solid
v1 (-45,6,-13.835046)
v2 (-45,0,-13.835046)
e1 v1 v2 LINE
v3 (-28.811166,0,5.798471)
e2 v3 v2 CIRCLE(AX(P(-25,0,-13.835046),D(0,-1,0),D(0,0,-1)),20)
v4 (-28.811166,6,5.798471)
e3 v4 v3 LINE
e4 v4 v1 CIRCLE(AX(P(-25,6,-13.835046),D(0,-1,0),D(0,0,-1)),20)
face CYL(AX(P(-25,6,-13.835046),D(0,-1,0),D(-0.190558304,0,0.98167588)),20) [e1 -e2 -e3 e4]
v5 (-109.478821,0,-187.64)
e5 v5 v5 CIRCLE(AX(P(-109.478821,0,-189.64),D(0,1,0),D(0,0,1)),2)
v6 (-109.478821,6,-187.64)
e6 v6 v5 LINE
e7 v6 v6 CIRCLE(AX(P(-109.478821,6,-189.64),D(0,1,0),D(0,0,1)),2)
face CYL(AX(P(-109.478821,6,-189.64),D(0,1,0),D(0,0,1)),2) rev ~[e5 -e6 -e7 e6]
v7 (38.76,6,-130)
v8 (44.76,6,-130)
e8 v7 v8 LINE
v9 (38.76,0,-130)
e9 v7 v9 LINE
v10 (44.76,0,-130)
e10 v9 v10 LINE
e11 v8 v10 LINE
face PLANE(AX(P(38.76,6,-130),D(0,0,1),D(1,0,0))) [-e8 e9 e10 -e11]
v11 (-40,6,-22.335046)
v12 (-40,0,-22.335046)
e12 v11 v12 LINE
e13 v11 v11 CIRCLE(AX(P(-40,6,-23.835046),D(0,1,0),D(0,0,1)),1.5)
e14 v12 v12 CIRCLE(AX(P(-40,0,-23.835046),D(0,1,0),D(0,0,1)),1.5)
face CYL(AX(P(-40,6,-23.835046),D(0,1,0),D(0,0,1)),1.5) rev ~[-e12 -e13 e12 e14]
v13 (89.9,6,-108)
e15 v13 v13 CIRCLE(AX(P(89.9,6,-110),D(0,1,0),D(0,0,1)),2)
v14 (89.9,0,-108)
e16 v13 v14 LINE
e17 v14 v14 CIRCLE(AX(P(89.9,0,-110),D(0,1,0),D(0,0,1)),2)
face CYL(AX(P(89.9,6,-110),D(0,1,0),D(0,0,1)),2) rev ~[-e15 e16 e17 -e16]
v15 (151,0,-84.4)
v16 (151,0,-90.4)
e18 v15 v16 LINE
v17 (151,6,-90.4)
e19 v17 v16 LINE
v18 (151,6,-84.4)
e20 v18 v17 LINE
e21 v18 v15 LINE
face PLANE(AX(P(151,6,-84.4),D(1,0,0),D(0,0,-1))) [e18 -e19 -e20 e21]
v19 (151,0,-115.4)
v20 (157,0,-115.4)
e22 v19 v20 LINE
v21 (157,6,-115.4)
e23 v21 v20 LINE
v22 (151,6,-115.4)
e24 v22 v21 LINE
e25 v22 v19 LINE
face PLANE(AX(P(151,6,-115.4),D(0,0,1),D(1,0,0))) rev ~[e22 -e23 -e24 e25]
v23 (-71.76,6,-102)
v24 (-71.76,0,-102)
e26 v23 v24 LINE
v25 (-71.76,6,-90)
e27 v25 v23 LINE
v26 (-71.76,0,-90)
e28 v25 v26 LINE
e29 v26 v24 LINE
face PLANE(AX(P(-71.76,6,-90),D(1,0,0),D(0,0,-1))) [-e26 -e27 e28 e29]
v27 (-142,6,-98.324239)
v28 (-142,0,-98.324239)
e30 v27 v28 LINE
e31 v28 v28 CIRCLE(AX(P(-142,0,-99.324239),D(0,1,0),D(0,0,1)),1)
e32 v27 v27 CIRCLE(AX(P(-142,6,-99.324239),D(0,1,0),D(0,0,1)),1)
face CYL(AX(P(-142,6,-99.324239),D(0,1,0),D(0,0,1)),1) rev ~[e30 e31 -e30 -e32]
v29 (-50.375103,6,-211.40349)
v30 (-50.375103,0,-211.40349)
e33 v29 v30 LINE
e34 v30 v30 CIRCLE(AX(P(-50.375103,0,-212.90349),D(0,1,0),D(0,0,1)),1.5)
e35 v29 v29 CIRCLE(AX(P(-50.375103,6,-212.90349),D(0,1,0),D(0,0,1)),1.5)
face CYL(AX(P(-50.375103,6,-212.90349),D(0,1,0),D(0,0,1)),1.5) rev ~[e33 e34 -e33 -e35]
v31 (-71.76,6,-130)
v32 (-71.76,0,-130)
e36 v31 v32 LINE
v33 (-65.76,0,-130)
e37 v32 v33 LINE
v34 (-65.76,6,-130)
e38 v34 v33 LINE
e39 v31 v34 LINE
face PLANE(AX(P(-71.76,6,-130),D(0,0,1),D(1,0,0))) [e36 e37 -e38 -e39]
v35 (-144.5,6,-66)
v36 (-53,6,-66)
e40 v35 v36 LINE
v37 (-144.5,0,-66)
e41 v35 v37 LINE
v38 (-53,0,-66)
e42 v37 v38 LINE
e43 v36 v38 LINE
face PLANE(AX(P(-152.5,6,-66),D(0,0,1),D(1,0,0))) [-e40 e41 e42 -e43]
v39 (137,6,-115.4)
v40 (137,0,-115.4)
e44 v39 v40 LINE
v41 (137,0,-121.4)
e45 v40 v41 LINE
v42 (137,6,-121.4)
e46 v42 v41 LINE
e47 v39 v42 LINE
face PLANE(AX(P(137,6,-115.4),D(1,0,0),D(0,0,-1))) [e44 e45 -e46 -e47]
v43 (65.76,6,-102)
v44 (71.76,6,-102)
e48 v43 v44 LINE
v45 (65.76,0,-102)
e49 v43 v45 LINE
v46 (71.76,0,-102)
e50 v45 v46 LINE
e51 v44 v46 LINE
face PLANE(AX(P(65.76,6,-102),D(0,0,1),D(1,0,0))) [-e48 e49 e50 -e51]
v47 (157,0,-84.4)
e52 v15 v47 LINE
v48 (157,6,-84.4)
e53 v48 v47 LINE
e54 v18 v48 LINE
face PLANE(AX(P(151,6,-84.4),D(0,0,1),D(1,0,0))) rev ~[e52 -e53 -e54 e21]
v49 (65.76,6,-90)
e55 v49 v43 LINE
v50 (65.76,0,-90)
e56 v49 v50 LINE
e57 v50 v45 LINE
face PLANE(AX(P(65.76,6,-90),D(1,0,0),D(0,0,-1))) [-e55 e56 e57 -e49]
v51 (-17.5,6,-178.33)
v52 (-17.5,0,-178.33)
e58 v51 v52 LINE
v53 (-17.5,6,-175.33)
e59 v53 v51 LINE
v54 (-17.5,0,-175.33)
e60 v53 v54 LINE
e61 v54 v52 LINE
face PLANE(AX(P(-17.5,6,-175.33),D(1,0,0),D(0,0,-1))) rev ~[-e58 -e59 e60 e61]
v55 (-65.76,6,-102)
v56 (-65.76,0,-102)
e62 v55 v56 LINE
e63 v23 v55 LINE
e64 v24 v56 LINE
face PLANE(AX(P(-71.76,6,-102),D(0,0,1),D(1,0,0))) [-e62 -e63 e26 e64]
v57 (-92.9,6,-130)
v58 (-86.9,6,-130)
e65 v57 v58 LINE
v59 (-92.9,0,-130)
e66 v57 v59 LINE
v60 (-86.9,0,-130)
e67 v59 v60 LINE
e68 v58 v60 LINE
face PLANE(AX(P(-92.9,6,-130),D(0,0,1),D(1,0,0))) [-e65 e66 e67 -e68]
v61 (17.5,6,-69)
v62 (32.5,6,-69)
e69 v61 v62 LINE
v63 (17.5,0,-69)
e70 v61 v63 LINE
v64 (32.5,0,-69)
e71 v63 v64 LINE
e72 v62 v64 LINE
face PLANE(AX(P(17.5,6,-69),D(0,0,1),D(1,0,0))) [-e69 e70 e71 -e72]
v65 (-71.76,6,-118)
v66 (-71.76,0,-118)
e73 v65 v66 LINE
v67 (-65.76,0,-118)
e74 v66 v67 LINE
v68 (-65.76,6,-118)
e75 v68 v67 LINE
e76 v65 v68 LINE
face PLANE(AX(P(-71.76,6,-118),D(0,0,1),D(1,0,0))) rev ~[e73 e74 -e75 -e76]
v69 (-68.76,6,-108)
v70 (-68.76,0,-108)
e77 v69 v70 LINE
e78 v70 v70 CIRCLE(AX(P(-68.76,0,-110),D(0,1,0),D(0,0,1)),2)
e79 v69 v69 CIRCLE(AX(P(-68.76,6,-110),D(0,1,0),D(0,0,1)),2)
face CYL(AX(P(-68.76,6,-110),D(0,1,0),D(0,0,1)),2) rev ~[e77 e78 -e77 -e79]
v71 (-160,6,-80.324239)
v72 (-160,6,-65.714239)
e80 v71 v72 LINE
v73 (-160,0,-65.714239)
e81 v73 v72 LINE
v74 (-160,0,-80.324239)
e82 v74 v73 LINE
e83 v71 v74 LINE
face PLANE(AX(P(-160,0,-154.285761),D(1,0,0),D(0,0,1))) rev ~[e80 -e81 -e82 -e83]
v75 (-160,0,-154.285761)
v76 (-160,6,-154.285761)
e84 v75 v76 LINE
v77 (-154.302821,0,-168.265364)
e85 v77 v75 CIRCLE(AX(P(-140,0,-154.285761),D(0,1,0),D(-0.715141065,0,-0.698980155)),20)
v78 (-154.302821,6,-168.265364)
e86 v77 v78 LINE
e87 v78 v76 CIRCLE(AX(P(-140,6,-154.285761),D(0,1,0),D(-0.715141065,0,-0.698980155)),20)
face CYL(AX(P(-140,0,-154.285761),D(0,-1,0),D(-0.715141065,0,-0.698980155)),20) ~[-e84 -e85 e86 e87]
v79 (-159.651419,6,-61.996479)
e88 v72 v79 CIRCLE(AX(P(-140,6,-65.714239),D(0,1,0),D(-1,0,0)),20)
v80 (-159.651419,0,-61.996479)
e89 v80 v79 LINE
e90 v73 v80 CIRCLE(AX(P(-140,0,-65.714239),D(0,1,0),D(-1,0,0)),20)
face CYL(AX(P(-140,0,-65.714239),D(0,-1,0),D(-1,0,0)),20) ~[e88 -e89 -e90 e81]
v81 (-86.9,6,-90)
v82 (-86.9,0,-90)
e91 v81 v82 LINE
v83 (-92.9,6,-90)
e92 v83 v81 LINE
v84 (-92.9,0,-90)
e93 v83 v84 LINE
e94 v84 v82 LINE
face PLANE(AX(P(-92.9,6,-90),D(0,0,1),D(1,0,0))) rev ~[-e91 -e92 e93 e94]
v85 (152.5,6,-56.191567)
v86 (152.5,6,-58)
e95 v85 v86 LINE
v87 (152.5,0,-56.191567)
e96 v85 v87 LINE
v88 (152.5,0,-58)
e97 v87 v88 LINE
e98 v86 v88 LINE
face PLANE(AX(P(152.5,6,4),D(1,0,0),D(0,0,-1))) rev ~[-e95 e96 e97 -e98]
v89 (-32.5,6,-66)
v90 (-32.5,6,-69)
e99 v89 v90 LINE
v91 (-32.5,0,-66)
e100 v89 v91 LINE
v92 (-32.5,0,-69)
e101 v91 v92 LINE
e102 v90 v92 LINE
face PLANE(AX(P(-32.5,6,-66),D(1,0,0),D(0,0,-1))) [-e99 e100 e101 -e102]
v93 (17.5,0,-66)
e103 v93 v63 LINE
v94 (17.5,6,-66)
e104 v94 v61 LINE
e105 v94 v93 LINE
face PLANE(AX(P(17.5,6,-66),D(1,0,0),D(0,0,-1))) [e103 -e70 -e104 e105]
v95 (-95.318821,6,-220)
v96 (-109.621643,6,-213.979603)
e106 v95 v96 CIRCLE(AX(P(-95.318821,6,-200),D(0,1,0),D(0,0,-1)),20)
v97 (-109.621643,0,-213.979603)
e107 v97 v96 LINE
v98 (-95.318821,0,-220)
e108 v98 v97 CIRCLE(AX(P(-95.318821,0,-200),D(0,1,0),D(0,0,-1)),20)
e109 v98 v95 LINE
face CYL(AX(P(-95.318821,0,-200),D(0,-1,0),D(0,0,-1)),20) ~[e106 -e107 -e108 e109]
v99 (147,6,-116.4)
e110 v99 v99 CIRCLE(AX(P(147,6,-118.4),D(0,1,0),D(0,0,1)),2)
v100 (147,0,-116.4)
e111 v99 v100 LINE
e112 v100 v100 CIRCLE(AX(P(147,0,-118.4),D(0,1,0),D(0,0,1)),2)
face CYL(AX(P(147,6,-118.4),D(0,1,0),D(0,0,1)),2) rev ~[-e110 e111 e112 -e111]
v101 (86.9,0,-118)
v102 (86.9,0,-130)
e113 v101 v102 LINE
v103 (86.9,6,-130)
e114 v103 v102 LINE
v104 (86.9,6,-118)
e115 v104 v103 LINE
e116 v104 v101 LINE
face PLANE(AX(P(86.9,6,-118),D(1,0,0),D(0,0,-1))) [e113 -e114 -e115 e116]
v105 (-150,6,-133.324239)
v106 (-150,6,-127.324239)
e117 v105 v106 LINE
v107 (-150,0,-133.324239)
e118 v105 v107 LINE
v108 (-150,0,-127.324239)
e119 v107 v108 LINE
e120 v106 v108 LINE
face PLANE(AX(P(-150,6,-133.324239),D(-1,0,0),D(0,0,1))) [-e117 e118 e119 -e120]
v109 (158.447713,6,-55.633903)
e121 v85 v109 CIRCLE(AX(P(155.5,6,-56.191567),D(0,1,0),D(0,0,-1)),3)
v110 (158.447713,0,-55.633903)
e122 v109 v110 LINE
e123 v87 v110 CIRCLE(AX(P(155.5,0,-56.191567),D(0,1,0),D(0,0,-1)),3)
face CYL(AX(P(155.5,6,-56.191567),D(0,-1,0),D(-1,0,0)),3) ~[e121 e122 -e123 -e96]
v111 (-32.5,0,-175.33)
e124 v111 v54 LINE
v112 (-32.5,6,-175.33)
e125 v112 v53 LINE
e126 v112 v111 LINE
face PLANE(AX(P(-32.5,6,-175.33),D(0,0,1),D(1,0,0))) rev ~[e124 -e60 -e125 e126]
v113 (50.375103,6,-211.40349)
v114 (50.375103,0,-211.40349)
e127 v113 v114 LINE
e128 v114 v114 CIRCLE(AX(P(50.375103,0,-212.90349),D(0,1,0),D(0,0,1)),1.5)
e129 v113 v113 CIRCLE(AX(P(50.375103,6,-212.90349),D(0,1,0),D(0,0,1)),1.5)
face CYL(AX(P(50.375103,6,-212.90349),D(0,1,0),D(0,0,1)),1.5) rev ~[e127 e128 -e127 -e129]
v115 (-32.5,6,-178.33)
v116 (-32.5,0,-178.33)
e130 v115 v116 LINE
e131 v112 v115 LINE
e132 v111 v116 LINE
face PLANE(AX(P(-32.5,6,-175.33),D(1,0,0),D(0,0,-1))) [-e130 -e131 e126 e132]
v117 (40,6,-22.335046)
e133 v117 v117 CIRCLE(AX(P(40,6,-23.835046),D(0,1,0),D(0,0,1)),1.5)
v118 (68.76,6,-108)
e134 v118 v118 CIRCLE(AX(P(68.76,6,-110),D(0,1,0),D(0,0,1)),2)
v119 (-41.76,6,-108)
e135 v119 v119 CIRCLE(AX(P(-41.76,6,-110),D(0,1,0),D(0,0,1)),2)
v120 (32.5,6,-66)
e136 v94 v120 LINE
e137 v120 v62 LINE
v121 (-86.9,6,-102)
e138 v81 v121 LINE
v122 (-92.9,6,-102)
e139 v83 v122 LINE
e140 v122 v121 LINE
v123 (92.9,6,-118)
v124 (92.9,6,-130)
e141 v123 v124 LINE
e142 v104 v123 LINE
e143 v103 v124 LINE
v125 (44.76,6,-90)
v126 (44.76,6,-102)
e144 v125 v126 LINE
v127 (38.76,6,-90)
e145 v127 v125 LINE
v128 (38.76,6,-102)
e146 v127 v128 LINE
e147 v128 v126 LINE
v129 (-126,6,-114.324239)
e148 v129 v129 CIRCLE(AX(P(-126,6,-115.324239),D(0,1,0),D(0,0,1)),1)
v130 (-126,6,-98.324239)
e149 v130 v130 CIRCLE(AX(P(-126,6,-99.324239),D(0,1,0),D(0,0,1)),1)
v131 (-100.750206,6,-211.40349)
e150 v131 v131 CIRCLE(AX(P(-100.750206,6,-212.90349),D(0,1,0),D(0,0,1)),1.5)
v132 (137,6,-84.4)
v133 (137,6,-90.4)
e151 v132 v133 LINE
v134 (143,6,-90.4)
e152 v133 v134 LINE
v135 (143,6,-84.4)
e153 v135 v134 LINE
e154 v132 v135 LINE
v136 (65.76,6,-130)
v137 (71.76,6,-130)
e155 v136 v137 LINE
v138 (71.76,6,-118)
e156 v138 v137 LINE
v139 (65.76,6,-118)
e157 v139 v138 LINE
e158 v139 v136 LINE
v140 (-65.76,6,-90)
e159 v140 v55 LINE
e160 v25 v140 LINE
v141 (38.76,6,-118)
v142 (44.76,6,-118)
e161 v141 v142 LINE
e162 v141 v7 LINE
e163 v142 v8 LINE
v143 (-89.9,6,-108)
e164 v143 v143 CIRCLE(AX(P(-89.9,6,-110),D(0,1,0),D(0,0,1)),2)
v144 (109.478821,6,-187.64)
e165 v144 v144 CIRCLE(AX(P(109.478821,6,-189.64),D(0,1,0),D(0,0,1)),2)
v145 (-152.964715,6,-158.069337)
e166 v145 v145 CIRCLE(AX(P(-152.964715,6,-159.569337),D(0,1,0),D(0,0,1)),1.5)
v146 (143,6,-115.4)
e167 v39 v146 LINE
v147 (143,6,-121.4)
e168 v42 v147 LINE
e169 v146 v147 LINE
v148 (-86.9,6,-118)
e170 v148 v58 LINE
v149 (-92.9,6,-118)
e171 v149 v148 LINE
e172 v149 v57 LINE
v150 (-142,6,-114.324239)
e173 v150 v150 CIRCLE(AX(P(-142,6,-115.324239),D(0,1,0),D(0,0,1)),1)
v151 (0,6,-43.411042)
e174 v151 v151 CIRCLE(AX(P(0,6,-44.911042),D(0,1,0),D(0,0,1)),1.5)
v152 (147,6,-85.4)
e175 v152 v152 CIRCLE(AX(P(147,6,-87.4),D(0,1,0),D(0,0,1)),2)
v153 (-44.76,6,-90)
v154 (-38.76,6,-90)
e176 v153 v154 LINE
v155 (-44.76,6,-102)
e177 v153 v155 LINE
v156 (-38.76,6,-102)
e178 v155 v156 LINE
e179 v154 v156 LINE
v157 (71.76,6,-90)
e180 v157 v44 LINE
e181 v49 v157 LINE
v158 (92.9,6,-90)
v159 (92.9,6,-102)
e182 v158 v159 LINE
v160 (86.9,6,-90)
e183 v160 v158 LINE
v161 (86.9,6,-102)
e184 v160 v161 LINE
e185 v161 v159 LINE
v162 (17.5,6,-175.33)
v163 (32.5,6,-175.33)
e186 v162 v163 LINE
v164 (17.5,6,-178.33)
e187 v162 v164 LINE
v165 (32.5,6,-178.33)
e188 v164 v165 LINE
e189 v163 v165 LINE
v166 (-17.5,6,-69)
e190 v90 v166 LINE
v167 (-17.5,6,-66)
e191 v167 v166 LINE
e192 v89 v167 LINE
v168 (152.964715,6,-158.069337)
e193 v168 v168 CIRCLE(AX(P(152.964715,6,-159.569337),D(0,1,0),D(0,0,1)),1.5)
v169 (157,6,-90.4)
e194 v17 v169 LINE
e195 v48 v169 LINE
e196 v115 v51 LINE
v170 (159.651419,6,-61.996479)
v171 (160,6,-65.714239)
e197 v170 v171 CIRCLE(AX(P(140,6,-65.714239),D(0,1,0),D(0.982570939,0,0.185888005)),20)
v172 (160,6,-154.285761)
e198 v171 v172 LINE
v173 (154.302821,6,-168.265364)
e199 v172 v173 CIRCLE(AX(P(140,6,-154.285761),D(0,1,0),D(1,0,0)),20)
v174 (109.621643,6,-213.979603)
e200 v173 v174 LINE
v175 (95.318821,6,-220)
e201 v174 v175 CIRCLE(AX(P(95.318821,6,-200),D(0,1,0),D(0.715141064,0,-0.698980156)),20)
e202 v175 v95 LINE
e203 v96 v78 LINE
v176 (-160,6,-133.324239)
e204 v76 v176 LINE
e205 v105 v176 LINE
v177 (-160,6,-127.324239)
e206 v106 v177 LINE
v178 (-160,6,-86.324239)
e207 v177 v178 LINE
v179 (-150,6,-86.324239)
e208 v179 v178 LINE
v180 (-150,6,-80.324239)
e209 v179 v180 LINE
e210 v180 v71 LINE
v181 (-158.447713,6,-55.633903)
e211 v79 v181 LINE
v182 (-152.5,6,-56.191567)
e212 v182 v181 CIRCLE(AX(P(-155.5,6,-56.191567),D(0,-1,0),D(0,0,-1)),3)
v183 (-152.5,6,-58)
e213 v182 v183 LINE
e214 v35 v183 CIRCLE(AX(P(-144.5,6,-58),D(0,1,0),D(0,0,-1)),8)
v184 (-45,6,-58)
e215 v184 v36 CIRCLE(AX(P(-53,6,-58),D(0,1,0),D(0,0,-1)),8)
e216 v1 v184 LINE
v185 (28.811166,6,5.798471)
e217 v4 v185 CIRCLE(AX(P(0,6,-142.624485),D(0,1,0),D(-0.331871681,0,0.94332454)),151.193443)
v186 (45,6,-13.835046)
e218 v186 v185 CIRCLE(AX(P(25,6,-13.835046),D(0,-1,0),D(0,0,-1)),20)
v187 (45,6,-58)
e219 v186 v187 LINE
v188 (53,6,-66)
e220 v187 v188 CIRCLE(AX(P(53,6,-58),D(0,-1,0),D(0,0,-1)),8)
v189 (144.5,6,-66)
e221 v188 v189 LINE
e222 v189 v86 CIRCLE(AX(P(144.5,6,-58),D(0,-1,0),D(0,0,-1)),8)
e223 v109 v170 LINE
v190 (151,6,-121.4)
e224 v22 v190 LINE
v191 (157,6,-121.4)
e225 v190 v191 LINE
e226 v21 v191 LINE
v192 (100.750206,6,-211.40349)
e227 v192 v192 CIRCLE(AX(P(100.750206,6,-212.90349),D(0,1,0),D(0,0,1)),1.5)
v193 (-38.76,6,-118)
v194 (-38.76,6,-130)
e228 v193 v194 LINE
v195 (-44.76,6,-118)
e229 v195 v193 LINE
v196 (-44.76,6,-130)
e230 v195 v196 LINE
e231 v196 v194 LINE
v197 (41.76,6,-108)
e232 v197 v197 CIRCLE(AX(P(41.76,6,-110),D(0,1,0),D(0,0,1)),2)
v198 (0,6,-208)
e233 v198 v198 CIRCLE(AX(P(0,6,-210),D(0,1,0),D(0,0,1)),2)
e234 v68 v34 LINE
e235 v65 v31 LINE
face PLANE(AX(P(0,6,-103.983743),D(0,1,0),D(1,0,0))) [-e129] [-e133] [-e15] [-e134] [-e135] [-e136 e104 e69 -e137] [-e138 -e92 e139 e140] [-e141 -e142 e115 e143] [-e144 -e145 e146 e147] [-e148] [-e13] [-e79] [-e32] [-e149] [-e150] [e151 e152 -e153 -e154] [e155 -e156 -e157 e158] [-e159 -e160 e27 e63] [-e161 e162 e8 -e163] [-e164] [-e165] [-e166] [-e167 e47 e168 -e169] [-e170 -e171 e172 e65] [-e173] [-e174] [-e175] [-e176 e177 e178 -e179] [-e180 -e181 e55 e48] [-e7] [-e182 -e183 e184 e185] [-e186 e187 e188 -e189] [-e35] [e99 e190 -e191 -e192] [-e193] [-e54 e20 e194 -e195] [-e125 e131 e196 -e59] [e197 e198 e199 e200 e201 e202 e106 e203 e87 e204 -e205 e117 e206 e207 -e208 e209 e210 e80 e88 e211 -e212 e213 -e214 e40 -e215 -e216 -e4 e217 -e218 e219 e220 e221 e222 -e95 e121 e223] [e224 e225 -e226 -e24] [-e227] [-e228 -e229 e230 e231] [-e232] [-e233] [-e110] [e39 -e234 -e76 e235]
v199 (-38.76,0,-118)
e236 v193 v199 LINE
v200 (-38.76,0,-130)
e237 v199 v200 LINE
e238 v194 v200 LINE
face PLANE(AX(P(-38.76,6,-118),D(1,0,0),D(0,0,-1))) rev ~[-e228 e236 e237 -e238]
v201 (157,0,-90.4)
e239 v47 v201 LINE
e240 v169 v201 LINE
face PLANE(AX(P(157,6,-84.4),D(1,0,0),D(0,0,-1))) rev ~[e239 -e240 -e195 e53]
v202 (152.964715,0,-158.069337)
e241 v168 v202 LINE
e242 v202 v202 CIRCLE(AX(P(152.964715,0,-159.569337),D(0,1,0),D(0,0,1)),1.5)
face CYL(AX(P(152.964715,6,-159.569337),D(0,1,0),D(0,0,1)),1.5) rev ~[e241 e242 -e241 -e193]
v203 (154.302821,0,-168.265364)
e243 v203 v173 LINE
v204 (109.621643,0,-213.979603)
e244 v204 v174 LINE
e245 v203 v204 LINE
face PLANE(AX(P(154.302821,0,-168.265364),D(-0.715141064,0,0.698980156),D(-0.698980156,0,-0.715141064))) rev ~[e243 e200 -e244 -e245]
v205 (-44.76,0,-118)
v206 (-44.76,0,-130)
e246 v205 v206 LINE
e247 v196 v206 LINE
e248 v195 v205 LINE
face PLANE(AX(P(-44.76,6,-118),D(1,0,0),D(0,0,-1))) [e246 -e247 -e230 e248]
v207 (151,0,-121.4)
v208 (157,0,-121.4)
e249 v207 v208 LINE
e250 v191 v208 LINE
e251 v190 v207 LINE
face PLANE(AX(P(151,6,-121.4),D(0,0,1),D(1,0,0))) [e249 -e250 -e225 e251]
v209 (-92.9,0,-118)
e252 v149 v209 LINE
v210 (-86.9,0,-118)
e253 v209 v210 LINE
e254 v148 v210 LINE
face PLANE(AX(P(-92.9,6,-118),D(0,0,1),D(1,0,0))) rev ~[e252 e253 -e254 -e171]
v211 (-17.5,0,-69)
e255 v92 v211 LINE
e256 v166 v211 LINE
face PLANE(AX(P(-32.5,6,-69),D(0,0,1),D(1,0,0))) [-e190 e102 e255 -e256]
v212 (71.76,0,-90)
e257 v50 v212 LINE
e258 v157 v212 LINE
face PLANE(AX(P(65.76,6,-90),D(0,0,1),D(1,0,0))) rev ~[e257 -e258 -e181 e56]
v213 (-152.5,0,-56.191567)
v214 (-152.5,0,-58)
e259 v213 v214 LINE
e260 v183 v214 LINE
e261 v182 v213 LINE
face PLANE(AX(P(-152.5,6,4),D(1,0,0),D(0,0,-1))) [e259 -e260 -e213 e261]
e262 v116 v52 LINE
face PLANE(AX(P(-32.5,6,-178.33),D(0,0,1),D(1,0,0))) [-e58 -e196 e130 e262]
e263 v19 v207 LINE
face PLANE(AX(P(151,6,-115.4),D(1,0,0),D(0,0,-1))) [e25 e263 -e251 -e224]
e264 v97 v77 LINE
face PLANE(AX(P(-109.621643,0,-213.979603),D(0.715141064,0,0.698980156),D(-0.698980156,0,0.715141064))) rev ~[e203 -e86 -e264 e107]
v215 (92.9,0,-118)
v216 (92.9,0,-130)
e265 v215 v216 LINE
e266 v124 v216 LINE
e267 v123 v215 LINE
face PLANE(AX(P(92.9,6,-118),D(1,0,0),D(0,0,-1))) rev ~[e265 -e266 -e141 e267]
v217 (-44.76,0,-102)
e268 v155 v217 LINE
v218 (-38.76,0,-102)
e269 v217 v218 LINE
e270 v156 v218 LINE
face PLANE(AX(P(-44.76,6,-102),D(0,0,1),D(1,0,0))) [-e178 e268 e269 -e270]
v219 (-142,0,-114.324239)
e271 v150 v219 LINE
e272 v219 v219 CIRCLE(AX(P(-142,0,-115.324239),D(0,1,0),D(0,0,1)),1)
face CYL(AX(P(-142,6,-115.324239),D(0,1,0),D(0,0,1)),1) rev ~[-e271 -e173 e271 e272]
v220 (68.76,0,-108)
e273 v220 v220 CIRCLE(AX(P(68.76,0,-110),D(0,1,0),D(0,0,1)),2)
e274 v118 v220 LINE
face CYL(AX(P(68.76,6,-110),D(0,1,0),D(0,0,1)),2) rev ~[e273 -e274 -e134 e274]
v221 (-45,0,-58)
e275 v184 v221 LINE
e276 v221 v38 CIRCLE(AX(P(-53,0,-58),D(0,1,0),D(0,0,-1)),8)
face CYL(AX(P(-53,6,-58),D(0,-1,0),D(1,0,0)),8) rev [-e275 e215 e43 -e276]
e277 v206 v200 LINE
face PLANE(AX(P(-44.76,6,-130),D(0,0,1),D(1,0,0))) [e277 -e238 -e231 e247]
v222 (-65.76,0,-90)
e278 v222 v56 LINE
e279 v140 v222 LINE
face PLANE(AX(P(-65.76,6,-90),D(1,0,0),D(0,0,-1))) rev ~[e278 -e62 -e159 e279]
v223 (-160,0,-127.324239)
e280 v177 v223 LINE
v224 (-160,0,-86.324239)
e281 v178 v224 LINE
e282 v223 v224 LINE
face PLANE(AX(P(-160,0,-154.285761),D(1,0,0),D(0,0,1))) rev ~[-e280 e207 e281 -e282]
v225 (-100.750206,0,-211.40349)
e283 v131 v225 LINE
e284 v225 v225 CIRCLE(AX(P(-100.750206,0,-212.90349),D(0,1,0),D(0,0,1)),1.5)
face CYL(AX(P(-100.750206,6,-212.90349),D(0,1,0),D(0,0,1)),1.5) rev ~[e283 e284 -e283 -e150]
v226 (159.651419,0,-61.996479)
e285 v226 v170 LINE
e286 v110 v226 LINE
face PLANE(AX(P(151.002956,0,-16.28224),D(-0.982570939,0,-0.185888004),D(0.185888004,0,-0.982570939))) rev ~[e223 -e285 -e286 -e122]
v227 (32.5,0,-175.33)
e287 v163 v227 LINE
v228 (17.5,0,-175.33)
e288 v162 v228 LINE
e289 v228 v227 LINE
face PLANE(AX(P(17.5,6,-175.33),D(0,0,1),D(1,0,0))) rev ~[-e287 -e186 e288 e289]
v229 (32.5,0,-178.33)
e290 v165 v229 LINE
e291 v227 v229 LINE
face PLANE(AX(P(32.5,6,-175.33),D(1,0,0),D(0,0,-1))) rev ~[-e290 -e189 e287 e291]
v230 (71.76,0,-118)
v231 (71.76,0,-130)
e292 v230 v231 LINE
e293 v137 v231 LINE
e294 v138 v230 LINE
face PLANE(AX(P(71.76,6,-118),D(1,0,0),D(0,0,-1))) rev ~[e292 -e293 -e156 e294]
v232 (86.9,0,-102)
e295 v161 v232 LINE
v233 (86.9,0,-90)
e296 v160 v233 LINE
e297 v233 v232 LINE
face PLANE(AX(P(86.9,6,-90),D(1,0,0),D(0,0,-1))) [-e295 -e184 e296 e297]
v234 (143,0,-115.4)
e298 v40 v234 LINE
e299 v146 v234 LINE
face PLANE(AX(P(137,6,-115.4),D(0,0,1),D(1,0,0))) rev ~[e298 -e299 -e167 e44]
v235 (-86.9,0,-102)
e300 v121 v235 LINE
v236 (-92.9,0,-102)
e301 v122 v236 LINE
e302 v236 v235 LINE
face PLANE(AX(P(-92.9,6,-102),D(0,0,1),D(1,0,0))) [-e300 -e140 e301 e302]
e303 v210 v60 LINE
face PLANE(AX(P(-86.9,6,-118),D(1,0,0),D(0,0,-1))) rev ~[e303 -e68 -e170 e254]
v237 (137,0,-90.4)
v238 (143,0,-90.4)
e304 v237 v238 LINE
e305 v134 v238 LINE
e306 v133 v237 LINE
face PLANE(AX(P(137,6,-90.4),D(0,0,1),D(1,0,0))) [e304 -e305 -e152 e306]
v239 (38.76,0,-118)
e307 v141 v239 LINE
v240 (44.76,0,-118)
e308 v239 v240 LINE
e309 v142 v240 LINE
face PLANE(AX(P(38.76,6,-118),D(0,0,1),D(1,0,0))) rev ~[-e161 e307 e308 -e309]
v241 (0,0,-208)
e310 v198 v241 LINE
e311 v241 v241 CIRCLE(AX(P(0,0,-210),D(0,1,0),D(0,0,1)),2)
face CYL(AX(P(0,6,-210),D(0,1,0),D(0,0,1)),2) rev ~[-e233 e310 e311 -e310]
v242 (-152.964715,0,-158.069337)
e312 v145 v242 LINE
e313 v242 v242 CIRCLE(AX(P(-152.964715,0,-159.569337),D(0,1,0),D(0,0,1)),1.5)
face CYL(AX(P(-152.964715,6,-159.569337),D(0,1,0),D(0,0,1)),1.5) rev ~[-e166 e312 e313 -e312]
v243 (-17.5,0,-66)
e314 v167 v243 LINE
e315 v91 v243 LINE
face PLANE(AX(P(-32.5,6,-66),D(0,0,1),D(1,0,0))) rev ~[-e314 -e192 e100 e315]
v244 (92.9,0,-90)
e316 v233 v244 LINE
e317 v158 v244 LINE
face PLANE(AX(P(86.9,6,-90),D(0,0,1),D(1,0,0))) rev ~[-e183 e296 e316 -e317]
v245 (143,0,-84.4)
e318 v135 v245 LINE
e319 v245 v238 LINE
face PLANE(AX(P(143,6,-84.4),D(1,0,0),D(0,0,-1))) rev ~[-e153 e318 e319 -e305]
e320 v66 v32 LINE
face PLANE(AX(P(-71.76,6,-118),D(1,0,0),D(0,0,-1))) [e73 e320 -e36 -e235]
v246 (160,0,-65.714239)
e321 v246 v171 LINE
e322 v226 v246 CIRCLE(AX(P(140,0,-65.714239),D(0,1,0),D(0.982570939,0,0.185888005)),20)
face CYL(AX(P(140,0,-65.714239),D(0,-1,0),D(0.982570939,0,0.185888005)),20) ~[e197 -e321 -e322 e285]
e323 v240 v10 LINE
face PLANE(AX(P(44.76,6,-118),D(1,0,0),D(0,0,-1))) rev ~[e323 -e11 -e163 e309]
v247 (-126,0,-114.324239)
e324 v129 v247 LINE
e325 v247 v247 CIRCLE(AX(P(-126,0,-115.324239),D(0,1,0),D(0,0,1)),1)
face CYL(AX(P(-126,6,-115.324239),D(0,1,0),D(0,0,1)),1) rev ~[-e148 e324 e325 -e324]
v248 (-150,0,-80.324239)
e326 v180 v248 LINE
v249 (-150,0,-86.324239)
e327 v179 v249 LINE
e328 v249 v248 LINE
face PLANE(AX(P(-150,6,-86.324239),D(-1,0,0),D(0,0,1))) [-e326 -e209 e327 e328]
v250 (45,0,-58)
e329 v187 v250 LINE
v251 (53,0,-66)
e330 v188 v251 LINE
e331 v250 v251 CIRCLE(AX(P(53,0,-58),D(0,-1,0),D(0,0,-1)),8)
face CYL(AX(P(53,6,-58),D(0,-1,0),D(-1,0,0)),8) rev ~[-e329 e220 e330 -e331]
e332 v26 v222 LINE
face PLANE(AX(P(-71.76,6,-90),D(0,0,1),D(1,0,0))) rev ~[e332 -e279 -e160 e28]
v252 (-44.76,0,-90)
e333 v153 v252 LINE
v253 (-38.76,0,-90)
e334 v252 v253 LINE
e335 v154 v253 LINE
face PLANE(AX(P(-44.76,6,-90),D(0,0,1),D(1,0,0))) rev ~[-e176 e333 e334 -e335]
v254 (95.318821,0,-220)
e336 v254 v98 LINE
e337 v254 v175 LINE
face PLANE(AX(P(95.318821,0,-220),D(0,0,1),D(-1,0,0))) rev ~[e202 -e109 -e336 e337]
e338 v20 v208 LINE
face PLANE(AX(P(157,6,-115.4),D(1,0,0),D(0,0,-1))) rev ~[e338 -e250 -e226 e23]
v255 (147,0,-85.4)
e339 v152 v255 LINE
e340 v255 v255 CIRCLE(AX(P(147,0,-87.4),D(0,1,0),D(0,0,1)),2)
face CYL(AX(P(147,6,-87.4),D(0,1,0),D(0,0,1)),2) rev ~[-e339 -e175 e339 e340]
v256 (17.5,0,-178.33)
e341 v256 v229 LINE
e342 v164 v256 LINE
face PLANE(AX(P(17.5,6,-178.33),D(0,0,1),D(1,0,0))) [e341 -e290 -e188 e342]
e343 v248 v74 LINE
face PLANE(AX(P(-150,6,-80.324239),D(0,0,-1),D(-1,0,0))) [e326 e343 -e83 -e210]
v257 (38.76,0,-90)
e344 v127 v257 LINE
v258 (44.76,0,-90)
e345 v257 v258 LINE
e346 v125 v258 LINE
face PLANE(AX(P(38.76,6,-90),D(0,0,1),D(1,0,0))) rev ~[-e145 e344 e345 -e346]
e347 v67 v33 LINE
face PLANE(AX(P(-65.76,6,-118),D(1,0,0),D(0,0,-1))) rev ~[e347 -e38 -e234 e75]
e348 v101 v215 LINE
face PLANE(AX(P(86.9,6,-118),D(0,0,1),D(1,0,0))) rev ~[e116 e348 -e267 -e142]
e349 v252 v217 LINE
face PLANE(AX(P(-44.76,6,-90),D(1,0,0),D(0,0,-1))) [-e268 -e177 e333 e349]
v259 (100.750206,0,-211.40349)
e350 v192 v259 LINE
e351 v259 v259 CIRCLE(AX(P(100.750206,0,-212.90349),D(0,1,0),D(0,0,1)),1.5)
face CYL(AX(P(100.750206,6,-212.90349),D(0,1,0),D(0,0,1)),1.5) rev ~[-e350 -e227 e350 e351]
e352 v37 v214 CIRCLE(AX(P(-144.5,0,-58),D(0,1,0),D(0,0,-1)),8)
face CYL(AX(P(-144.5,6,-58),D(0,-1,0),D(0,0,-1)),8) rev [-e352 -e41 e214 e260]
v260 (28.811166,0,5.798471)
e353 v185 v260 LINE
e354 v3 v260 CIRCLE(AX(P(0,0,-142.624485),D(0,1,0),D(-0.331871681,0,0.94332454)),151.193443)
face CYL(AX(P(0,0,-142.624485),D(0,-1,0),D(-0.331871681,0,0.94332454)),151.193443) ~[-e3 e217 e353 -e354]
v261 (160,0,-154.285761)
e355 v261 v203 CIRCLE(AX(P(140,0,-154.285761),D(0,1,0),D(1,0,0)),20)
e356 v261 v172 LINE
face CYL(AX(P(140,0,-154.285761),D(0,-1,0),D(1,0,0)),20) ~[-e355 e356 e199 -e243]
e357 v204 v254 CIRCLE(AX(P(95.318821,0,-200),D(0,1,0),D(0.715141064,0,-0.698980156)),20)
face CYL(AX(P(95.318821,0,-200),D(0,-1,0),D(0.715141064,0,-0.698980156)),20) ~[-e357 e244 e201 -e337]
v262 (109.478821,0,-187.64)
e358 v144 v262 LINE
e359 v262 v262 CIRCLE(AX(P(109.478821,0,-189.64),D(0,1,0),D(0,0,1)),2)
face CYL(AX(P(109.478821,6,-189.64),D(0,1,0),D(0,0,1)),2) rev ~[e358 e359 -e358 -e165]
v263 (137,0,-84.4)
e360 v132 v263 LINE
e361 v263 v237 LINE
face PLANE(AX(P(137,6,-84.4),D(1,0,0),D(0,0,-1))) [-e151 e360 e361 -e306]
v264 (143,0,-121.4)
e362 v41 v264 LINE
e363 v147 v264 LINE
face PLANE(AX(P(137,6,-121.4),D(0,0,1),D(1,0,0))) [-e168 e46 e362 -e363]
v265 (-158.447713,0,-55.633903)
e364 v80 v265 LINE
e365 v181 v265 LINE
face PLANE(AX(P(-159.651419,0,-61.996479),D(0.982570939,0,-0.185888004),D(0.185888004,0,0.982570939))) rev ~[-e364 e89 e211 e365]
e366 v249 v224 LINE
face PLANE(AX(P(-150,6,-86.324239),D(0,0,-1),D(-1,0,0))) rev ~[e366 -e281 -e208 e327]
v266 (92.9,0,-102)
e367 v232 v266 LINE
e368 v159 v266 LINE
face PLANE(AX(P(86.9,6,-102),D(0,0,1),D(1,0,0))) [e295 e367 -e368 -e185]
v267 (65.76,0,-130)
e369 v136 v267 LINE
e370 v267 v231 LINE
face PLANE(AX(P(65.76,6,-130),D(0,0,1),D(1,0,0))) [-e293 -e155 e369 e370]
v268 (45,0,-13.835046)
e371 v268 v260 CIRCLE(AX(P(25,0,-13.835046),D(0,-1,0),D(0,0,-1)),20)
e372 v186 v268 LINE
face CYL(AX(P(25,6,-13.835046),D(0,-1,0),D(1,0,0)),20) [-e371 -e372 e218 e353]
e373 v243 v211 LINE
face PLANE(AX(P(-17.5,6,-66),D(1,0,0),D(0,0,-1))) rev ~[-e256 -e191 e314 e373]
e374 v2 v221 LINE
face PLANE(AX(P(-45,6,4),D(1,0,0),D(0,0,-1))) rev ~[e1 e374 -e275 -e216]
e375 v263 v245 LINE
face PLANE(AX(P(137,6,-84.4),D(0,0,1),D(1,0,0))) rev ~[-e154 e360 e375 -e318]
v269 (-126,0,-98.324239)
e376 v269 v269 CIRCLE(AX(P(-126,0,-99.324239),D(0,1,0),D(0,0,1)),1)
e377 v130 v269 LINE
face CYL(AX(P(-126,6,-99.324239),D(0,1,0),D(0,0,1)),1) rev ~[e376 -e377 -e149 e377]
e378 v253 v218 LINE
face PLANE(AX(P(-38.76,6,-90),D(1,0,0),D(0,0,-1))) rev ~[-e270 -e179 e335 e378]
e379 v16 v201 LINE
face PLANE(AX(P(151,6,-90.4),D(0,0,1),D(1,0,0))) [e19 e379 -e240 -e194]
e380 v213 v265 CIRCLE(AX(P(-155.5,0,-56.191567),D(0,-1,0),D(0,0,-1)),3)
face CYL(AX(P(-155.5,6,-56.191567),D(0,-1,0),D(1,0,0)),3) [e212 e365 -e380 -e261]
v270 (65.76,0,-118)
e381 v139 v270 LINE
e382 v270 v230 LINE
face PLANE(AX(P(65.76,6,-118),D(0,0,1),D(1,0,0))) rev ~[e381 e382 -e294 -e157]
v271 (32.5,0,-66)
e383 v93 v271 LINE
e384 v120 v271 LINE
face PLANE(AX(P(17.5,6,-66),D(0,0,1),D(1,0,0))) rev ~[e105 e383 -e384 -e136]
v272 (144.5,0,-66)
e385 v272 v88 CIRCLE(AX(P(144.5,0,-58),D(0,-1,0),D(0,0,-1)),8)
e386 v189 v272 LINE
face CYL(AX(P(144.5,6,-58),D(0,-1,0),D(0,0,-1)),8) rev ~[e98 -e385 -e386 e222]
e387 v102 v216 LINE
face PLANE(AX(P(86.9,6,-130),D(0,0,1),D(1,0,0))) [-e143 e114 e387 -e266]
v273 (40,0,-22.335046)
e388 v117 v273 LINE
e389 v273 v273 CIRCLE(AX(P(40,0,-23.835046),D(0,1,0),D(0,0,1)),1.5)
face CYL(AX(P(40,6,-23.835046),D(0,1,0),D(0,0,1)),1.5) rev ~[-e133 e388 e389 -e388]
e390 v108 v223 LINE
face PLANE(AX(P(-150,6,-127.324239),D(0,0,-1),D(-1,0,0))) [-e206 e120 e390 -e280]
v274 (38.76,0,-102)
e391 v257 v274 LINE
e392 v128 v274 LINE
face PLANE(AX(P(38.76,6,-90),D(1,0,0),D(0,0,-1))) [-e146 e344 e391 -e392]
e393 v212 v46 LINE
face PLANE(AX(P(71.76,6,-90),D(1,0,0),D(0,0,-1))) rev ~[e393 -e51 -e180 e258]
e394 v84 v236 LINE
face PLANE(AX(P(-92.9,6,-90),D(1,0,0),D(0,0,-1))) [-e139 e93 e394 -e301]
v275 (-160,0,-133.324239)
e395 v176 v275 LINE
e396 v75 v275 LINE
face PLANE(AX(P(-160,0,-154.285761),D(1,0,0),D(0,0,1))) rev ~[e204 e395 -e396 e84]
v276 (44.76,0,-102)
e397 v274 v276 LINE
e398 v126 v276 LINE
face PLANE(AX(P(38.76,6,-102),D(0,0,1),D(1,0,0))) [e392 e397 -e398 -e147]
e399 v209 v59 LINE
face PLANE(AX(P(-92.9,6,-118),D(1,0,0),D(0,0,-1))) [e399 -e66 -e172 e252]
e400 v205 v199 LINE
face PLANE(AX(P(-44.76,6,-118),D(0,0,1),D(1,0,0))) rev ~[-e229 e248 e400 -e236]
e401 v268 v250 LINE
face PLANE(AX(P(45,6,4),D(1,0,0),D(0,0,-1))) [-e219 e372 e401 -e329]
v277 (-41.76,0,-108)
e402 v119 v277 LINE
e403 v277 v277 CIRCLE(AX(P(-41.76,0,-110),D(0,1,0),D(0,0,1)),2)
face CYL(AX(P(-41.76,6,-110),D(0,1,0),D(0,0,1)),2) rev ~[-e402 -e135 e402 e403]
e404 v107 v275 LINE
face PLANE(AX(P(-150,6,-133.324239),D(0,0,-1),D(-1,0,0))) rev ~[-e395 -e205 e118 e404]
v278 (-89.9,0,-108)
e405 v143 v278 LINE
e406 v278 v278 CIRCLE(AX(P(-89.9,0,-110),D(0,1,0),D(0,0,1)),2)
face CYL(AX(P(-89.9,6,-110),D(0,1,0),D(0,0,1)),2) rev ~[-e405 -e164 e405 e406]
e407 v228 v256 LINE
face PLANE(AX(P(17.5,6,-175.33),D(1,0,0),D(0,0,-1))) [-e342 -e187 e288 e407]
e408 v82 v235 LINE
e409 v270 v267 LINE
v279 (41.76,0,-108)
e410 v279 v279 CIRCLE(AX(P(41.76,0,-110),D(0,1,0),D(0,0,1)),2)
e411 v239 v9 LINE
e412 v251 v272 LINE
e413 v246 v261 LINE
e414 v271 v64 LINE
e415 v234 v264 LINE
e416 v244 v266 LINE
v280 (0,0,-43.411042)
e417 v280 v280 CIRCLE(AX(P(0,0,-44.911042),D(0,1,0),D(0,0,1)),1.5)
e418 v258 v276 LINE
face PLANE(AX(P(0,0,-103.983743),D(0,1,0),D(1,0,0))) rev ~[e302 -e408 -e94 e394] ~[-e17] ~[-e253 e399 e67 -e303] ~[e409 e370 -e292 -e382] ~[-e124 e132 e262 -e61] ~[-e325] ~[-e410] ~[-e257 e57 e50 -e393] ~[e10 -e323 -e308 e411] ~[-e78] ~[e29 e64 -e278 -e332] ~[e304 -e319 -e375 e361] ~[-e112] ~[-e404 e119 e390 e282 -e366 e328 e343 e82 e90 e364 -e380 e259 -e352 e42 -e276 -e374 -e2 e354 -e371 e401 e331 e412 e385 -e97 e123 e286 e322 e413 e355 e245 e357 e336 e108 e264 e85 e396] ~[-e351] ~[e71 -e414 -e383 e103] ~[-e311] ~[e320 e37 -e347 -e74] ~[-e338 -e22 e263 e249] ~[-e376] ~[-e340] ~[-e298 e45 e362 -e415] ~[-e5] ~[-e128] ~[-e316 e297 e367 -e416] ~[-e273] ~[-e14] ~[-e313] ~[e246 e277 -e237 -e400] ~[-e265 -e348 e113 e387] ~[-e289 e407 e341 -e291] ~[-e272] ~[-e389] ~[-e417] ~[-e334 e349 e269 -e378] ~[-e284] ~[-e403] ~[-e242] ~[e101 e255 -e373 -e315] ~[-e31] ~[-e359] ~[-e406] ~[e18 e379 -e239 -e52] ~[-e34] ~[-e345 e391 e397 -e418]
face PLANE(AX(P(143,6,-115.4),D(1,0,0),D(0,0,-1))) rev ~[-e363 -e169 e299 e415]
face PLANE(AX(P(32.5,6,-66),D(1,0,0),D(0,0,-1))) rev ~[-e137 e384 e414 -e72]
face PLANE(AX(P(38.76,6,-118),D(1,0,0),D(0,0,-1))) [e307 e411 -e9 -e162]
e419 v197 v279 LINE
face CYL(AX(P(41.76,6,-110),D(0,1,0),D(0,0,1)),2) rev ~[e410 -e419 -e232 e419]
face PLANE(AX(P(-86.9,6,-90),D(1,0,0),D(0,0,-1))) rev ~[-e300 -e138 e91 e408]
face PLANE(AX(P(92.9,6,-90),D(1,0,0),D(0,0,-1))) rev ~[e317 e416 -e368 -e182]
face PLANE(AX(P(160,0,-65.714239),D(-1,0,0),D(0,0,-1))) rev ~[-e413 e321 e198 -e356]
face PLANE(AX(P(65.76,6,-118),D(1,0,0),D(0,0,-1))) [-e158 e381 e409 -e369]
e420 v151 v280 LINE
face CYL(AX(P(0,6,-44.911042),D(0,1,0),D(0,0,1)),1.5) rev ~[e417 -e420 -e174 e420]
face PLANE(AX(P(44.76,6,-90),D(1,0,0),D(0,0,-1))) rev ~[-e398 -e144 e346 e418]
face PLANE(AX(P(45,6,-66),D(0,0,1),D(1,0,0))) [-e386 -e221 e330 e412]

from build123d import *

# Parameters (mm, degrees)
BOSS_EXTRU_1_DEPTH       = 6
ESQUISSE4_W              = 107.5
ESQUISSE4_H              = 70
ENL_V_MAT_EXTRU_3_DEPTH  = 6
CONG_1_R                 = 20
CONG_2_R                 = 8
CONG_3_R                 = 3
ESQUISSE7_W              = 15
ESQUISSE7_H              = 3
ENL_V_MAT_EXTRU_6_DEPTH  = 10
ESQUISSE6_R              = 2
ENL_V_MAT_EXTRU_5_DEPTH  = 10
ESQUISSE8_R              = 2
ESQUISSE8_W              = 6
ESQUISSE8_H              = 12
ENL_V_MAT_EXTRU_7_DEPTH  = 10
ESQUISSE9_R              = 2
ESQUISSE9_W              = 6
ESQUISSE9_H              = 6
ENL_V_MAT_EXTRU_8_DEPTH  = 10
ESQUISSE10_W             = 15
ESQUISSE10_H             = 3
ENL_V_MAT_EXTRU_9_DEPTH  = 10
ESQUISSE11_R             = 1.5
ESQUISSE11_R_2           = 2
ESQUISSE11_R_3           = 1
ESQUISSE11_W             = 10
ESQUISSE11_H             = 6
ENL_V_MAT_EXTRU_10_DEPTH = 10


with BuildPart() as part:
    # Esquisse1 → Boss.-Extru.1 (new body)
    with BuildSketch(Plane(origin=(0, 0, 0), x_dir=(1, 0, 0), z_dir=(0, 1, 0))):
        with BuildLine():
            Line((-159.651418776, 61.996478628), (-151.00295557, 16.28223991))
            ThreePointArc((-151.00295557, 16.28223991), (-144.111724845, 4.599428553), (-131.351536794, 0))
            Line((-131.351536794, 0), (-50.176822125, 0))
            ThreePointArc((-50.176822125, 0), (0, -8.568957982), (50.176822125, 0))
            Line((50.176822125, 0), (131.351536794, 0))
            ThreePointArc((131.351536794, 0), (144.111724845, 4.599428553), (151.00295557, 16.28223991))
            Line((151.00295557, 16.28223991), (159.651418776, 61.996478628))
            ThreePointArc((159.651418776, 61.996478628), (159.912664005, 63.847205713), (160, 65.714238717))
            Line((160, 65.714238717), (160, 154.285761283))
            ThreePointArc((160, 154.285761283), (158.521020838, 161.833727042), (154.30282129, 168.265364394))
            Line((154.30282129, 168.265364394), (109.621642599, 213.979603112))
            ThreePointArc((109.621642599, 213.979603112), (103.077942966, 218.433557202), (95.31882131, 220))
            Line((95.31882131, 220), (-95.31882131, 220))
            ThreePointArc((-95.31882131, 220), (-103.077942966, 218.433557202), (-109.621642599, 213.979603112))
            Line((-109.621642599, 213.979603112), (-154.30282129, 168.265364394))
            ThreePointArc((-154.30282129, 168.265364394), (-158.521020838, 161.833727042), (-160, 154.285761283))
            Line((-160, 154.285761283), (-160, 65.714238717))
            ThreePointArc((-160, 65.714238717), (-159.912664005, 63.847205713), (-159.651418776, 61.996478628))
        make_face()
    extrude(amount=BOSS_EXTRU_1_DEPTH)

    # Esquisse4 → Enlèv. mat.-Extru.3 (cut)
    with BuildSketch(Plane(origin=(0, 6, 0), x_dir=(1, 0, 0), z_dir=(0, 1, 0))):
        with Locations((-98.75, 31)):
            Rectangle(ESQUISSE4_W, ESQUISSE4_H)
        with Locations((98.75, 31)):
            Rectangle(ESQUISSE4_W, ESQUISSE4_H)
    extrude(amount=-ENL_V_MAT_EXTRU_3_DEPTH, mode=Mode.SUBTRACT)

    # Congé1
    cong_1_edges = [part.edges().sort_by_distance(p)[0] for p in [
        (-45, 3, 1.716975434),
        (45, 3, 1.716975434),
    ]]
    fillet(cong_1_edges, radius=CONG_1_R)

    # Congé2
    cong_2_edges = [part.edges().sort_by_distance(p)[0] for p in [
        (-45, 3, -66),
        (-152.5, 3, -66),
        (152.5, 3, -66),
        (45, 3, -66),
    ]]
    fillet(cong_2_edges, radius=CONG_2_R)

    # Congé3
    cong_3_edges = [part.edges().sort_by_distance(p)[0] for p in [
        (-152.5, 3, -24.195350576),
        (152.5, 3, -24.195350576),
    ]]
    fillet(cong_3_edges, radius=CONG_3_R)

    # Esquisse7 → Enlèv. mat.-Extru.6 (cut)
    with BuildSketch(Plane(origin=(0, 6, 0), x_dir=(1, 0, 0), z_dir=(0, 1, 0))):
        with Locations((-25, 67.499999998)):
            Rectangle(ESQUISSE7_W, ESQUISSE7_H)
        with Locations((25, 67.499999998)):
            Rectangle(ESQUISSE7_W, ESQUISSE7_H)
    extrude(amount=-ENL_V_MAT_EXTRU_6_DEPTH, mode=Mode.SUBTRACT)

    # Esquisse6 → Enlèv. mat.-Extru.5 (cut)
    with BuildSketch(Plane(origin=(0, 6, 0), x_dir=(1, 0, 0), z_dir=(0, 1, 0))):
        with Locations(Location((0, 210, 0), (0, 0, 270))):
            Circle(ESQUISSE6_R)
    extrude(amount=-ENL_V_MAT_EXTRU_5_DEPTH, mode=Mode.SUBTRACT)

    # Esquisse8 → Enlèv. mat.-Extru.7 (cut)
    with BuildSketch(Plane(origin=(0, 6, 0), x_dir=(1, 0, 0), z_dir=(0, 1, 0))):
        with Locations(Location((-89.9, 110, 0), (0, 0, 270))):
            Circle(ESQUISSE8_R)
        with Locations(Location((-68.76, 110, 0), (0, 0, 270))):
            Circle(ESQUISSE8_R)
        with Locations(Location((-41.76, 110, 0), (0, 0, 270))):
            Circle(ESQUISSE8_R)
        with Locations(Location((41.76, 110, 0), (0, 0, 270))):
            Circle(ESQUISSE8_R)
        with Locations(Location((68.76, 110, 0), (0, 0, 270))):
            Circle(ESQUISSE8_R)
        with Locations(Location((89.9, 110, 0), (0, 0, 270))):
            Circle(ESQUISSE8_R)
        with Locations((-89.9, 96)):
            Rectangle(ESQUISSE8_W, ESQUISSE8_H)
        with Locations((-89.9, 124)):
            Rectangle(ESQUISSE8_W, ESQUISSE8_H)
        with Locations((-68.76, 96)):
            Rectangle(ESQUISSE8_W, ESQUISSE8_H)
        with Locations((-68.76, 124)):
            Rectangle(ESQUISSE8_W, ESQUISSE8_H)
        with Locations((-41.76, 96)):
            Rectangle(ESQUISSE8_W, ESQUISSE8_H)
        with Locations((-41.76, 124)):
            Rectangle(ESQUISSE8_W, ESQUISSE8_H)
        with Locations((41.76, 96)):
            Rectangle(ESQUISSE8_W, ESQUISSE8_H)
        with Locations((41.76, 124)):
            Rectangle(ESQUISSE8_W, ESQUISSE8_H)
        with Locations((68.76, 96)):
            Rectangle(ESQUISSE8_W, ESQUISSE8_H)
        with Locations((68.76, 124)):
            Rectangle(ESQUISSE8_W, ESQUISSE8_H)
        with Locations((89.9, 96)):
            Rectangle(ESQUISSE8_W, ESQUISSE8_H)
        with Locations((89.9, 124)):
            Rectangle(ESQUISSE8_W, ESQUISSE8_H)
    extrude(amount=-ENL_V_MAT_EXTRU_7_DEPTH, mode=Mode.SUBTRACT)

    # Esquisse9 → Enlèv. mat.-Extru.8 (cut)
    with BuildSketch(Plane(origin=(0, 6, 0), x_dir=(1, 0, 0), z_dir=(0, 1, 0))):
        with Locations(Location((147, 118.4, 0), (0, 0, 270))):
            Circle(ESQUISSE9_R)
        with Locations(Location((147, 87.4, 0), (0, 0, 270))):
            Circle(ESQUISSE9_R)
        with Locations((154, 118.4)):
            Rectangle(ESQUISSE9_W, ESQUISSE9_H)
        with Locations((154, 87.4)):
            Rectangle(ESQUISSE9_W, ESQUISSE9_H)
        with Locations((140, 118.4)):
            Rectangle(ESQUISSE9_W, ESQUISSE9_H)
        with Locations((140, 87.4)):
            Rectangle(ESQUISSE9_W, ESQUISSE9_H)
    extrude(amount=-ENL_V_MAT_EXTRU_8_DEPTH, mode=Mode.SUBTRACT)

    # Esquisse10 → Enlèv. mat.-Extru.9 (cut)
    with BuildSketch(Plane(origin=(0, 6, 0), x_dir=(1, 0, 0), z_dir=(0, 1, 0))):
        with Locations((-25, 176.83)):
            Rectangle(ESQUISSE10_W, ESQUISSE10_H)
        with Locations((25, 176.83)):
            Rectangle(ESQUISSE10_W, ESQUISSE10_H)
    extrude(amount=-ENL_V_MAT_EXTRU_9_DEPTH, mode=Mode.SUBTRACT)

    # Esquisse11 → Enlèv. mat.-Extru.10 (cut)
    with BuildSketch(Plane(origin=(0, 6, 0), x_dir=(-1, 0, 0), z_dir=(0, 1, 0))):
        with Locations(Location((40, -23.835046453, 0), (0, 0, 90))):
            Circle(ESQUISSE11_R)
        with Locations(Location((-40, -23.835046453, 0), (0, 0, 90))):
            Circle(ESQUISSE11_R)
        with Locations(Location((100.750206469, -212.903490041, 0), (0, 0, 90))):
            Circle(ESQUISSE11_R)
        with Locations(Location((152.964714587, -159.569337314, 0), (0, 0, 90))):
            Circle(ESQUISSE11_R)
        with Locations(Location((50.375103235, -212.903490041, 0), (0, 0, 90))):
            Circle(ESQUISSE11_R)
        with Locations(Location((-152.964714587, -159.569337314, 0), (0, 0, 90))):
            Circle(ESQUISSE11_R)
        with Locations(Location((-100.750206469, -212.903490041, 0), (0, 0, 90))):
            Circle(ESQUISSE11_R)
        with Locations(Location((-50.375103235, -212.903490041, 0), (0, 0, 90))):
            Circle(ESQUISSE11_R)
        with Locations(Location((0, -44.911042018, 0), (0, 0, 90))):
            Circle(ESQUISSE11_R)
        with Locations(Location((-109.47882131, -189.64, 0), (0, 0, 90))):
            Circle(ESQUISSE11_R_2)
        with Locations(Location((109.47882131, -189.64, 0), (0, 0, 90))):
            Circle(ESQUISSE11_R_2)
        with Locations(Location((142, -99.324238717, 0), (0, 0, 90))):
            Circle(ESQUISSE11_R_3)
        with Locations(Location((126, -99.324238717, 0), (0, 0, 90))):
            Circle(ESQUISSE11_R_3)
        with Locations(Location((126, -115.324238717, 0), (0, 0, 90))):
            Circle(ESQUISSE11_R_3)
        with Locations(Location((142, -115.324238717, 0), (0, 0, 90))):
            Circle(ESQUISSE11_R_3)
        with Locations((155, -130.324238717)):
            Rectangle(ESQUISSE11_W, ESQUISSE11_H)
        with Locations((155, -83.324238717)):
            Rectangle(ESQUISSE11_W, ESQUISSE11_H)
    extrude(amount=-ENL_V_MAT_EXTRU_10_DEPTH, mode=Mode.SUBTRACT)


solid = part.part
